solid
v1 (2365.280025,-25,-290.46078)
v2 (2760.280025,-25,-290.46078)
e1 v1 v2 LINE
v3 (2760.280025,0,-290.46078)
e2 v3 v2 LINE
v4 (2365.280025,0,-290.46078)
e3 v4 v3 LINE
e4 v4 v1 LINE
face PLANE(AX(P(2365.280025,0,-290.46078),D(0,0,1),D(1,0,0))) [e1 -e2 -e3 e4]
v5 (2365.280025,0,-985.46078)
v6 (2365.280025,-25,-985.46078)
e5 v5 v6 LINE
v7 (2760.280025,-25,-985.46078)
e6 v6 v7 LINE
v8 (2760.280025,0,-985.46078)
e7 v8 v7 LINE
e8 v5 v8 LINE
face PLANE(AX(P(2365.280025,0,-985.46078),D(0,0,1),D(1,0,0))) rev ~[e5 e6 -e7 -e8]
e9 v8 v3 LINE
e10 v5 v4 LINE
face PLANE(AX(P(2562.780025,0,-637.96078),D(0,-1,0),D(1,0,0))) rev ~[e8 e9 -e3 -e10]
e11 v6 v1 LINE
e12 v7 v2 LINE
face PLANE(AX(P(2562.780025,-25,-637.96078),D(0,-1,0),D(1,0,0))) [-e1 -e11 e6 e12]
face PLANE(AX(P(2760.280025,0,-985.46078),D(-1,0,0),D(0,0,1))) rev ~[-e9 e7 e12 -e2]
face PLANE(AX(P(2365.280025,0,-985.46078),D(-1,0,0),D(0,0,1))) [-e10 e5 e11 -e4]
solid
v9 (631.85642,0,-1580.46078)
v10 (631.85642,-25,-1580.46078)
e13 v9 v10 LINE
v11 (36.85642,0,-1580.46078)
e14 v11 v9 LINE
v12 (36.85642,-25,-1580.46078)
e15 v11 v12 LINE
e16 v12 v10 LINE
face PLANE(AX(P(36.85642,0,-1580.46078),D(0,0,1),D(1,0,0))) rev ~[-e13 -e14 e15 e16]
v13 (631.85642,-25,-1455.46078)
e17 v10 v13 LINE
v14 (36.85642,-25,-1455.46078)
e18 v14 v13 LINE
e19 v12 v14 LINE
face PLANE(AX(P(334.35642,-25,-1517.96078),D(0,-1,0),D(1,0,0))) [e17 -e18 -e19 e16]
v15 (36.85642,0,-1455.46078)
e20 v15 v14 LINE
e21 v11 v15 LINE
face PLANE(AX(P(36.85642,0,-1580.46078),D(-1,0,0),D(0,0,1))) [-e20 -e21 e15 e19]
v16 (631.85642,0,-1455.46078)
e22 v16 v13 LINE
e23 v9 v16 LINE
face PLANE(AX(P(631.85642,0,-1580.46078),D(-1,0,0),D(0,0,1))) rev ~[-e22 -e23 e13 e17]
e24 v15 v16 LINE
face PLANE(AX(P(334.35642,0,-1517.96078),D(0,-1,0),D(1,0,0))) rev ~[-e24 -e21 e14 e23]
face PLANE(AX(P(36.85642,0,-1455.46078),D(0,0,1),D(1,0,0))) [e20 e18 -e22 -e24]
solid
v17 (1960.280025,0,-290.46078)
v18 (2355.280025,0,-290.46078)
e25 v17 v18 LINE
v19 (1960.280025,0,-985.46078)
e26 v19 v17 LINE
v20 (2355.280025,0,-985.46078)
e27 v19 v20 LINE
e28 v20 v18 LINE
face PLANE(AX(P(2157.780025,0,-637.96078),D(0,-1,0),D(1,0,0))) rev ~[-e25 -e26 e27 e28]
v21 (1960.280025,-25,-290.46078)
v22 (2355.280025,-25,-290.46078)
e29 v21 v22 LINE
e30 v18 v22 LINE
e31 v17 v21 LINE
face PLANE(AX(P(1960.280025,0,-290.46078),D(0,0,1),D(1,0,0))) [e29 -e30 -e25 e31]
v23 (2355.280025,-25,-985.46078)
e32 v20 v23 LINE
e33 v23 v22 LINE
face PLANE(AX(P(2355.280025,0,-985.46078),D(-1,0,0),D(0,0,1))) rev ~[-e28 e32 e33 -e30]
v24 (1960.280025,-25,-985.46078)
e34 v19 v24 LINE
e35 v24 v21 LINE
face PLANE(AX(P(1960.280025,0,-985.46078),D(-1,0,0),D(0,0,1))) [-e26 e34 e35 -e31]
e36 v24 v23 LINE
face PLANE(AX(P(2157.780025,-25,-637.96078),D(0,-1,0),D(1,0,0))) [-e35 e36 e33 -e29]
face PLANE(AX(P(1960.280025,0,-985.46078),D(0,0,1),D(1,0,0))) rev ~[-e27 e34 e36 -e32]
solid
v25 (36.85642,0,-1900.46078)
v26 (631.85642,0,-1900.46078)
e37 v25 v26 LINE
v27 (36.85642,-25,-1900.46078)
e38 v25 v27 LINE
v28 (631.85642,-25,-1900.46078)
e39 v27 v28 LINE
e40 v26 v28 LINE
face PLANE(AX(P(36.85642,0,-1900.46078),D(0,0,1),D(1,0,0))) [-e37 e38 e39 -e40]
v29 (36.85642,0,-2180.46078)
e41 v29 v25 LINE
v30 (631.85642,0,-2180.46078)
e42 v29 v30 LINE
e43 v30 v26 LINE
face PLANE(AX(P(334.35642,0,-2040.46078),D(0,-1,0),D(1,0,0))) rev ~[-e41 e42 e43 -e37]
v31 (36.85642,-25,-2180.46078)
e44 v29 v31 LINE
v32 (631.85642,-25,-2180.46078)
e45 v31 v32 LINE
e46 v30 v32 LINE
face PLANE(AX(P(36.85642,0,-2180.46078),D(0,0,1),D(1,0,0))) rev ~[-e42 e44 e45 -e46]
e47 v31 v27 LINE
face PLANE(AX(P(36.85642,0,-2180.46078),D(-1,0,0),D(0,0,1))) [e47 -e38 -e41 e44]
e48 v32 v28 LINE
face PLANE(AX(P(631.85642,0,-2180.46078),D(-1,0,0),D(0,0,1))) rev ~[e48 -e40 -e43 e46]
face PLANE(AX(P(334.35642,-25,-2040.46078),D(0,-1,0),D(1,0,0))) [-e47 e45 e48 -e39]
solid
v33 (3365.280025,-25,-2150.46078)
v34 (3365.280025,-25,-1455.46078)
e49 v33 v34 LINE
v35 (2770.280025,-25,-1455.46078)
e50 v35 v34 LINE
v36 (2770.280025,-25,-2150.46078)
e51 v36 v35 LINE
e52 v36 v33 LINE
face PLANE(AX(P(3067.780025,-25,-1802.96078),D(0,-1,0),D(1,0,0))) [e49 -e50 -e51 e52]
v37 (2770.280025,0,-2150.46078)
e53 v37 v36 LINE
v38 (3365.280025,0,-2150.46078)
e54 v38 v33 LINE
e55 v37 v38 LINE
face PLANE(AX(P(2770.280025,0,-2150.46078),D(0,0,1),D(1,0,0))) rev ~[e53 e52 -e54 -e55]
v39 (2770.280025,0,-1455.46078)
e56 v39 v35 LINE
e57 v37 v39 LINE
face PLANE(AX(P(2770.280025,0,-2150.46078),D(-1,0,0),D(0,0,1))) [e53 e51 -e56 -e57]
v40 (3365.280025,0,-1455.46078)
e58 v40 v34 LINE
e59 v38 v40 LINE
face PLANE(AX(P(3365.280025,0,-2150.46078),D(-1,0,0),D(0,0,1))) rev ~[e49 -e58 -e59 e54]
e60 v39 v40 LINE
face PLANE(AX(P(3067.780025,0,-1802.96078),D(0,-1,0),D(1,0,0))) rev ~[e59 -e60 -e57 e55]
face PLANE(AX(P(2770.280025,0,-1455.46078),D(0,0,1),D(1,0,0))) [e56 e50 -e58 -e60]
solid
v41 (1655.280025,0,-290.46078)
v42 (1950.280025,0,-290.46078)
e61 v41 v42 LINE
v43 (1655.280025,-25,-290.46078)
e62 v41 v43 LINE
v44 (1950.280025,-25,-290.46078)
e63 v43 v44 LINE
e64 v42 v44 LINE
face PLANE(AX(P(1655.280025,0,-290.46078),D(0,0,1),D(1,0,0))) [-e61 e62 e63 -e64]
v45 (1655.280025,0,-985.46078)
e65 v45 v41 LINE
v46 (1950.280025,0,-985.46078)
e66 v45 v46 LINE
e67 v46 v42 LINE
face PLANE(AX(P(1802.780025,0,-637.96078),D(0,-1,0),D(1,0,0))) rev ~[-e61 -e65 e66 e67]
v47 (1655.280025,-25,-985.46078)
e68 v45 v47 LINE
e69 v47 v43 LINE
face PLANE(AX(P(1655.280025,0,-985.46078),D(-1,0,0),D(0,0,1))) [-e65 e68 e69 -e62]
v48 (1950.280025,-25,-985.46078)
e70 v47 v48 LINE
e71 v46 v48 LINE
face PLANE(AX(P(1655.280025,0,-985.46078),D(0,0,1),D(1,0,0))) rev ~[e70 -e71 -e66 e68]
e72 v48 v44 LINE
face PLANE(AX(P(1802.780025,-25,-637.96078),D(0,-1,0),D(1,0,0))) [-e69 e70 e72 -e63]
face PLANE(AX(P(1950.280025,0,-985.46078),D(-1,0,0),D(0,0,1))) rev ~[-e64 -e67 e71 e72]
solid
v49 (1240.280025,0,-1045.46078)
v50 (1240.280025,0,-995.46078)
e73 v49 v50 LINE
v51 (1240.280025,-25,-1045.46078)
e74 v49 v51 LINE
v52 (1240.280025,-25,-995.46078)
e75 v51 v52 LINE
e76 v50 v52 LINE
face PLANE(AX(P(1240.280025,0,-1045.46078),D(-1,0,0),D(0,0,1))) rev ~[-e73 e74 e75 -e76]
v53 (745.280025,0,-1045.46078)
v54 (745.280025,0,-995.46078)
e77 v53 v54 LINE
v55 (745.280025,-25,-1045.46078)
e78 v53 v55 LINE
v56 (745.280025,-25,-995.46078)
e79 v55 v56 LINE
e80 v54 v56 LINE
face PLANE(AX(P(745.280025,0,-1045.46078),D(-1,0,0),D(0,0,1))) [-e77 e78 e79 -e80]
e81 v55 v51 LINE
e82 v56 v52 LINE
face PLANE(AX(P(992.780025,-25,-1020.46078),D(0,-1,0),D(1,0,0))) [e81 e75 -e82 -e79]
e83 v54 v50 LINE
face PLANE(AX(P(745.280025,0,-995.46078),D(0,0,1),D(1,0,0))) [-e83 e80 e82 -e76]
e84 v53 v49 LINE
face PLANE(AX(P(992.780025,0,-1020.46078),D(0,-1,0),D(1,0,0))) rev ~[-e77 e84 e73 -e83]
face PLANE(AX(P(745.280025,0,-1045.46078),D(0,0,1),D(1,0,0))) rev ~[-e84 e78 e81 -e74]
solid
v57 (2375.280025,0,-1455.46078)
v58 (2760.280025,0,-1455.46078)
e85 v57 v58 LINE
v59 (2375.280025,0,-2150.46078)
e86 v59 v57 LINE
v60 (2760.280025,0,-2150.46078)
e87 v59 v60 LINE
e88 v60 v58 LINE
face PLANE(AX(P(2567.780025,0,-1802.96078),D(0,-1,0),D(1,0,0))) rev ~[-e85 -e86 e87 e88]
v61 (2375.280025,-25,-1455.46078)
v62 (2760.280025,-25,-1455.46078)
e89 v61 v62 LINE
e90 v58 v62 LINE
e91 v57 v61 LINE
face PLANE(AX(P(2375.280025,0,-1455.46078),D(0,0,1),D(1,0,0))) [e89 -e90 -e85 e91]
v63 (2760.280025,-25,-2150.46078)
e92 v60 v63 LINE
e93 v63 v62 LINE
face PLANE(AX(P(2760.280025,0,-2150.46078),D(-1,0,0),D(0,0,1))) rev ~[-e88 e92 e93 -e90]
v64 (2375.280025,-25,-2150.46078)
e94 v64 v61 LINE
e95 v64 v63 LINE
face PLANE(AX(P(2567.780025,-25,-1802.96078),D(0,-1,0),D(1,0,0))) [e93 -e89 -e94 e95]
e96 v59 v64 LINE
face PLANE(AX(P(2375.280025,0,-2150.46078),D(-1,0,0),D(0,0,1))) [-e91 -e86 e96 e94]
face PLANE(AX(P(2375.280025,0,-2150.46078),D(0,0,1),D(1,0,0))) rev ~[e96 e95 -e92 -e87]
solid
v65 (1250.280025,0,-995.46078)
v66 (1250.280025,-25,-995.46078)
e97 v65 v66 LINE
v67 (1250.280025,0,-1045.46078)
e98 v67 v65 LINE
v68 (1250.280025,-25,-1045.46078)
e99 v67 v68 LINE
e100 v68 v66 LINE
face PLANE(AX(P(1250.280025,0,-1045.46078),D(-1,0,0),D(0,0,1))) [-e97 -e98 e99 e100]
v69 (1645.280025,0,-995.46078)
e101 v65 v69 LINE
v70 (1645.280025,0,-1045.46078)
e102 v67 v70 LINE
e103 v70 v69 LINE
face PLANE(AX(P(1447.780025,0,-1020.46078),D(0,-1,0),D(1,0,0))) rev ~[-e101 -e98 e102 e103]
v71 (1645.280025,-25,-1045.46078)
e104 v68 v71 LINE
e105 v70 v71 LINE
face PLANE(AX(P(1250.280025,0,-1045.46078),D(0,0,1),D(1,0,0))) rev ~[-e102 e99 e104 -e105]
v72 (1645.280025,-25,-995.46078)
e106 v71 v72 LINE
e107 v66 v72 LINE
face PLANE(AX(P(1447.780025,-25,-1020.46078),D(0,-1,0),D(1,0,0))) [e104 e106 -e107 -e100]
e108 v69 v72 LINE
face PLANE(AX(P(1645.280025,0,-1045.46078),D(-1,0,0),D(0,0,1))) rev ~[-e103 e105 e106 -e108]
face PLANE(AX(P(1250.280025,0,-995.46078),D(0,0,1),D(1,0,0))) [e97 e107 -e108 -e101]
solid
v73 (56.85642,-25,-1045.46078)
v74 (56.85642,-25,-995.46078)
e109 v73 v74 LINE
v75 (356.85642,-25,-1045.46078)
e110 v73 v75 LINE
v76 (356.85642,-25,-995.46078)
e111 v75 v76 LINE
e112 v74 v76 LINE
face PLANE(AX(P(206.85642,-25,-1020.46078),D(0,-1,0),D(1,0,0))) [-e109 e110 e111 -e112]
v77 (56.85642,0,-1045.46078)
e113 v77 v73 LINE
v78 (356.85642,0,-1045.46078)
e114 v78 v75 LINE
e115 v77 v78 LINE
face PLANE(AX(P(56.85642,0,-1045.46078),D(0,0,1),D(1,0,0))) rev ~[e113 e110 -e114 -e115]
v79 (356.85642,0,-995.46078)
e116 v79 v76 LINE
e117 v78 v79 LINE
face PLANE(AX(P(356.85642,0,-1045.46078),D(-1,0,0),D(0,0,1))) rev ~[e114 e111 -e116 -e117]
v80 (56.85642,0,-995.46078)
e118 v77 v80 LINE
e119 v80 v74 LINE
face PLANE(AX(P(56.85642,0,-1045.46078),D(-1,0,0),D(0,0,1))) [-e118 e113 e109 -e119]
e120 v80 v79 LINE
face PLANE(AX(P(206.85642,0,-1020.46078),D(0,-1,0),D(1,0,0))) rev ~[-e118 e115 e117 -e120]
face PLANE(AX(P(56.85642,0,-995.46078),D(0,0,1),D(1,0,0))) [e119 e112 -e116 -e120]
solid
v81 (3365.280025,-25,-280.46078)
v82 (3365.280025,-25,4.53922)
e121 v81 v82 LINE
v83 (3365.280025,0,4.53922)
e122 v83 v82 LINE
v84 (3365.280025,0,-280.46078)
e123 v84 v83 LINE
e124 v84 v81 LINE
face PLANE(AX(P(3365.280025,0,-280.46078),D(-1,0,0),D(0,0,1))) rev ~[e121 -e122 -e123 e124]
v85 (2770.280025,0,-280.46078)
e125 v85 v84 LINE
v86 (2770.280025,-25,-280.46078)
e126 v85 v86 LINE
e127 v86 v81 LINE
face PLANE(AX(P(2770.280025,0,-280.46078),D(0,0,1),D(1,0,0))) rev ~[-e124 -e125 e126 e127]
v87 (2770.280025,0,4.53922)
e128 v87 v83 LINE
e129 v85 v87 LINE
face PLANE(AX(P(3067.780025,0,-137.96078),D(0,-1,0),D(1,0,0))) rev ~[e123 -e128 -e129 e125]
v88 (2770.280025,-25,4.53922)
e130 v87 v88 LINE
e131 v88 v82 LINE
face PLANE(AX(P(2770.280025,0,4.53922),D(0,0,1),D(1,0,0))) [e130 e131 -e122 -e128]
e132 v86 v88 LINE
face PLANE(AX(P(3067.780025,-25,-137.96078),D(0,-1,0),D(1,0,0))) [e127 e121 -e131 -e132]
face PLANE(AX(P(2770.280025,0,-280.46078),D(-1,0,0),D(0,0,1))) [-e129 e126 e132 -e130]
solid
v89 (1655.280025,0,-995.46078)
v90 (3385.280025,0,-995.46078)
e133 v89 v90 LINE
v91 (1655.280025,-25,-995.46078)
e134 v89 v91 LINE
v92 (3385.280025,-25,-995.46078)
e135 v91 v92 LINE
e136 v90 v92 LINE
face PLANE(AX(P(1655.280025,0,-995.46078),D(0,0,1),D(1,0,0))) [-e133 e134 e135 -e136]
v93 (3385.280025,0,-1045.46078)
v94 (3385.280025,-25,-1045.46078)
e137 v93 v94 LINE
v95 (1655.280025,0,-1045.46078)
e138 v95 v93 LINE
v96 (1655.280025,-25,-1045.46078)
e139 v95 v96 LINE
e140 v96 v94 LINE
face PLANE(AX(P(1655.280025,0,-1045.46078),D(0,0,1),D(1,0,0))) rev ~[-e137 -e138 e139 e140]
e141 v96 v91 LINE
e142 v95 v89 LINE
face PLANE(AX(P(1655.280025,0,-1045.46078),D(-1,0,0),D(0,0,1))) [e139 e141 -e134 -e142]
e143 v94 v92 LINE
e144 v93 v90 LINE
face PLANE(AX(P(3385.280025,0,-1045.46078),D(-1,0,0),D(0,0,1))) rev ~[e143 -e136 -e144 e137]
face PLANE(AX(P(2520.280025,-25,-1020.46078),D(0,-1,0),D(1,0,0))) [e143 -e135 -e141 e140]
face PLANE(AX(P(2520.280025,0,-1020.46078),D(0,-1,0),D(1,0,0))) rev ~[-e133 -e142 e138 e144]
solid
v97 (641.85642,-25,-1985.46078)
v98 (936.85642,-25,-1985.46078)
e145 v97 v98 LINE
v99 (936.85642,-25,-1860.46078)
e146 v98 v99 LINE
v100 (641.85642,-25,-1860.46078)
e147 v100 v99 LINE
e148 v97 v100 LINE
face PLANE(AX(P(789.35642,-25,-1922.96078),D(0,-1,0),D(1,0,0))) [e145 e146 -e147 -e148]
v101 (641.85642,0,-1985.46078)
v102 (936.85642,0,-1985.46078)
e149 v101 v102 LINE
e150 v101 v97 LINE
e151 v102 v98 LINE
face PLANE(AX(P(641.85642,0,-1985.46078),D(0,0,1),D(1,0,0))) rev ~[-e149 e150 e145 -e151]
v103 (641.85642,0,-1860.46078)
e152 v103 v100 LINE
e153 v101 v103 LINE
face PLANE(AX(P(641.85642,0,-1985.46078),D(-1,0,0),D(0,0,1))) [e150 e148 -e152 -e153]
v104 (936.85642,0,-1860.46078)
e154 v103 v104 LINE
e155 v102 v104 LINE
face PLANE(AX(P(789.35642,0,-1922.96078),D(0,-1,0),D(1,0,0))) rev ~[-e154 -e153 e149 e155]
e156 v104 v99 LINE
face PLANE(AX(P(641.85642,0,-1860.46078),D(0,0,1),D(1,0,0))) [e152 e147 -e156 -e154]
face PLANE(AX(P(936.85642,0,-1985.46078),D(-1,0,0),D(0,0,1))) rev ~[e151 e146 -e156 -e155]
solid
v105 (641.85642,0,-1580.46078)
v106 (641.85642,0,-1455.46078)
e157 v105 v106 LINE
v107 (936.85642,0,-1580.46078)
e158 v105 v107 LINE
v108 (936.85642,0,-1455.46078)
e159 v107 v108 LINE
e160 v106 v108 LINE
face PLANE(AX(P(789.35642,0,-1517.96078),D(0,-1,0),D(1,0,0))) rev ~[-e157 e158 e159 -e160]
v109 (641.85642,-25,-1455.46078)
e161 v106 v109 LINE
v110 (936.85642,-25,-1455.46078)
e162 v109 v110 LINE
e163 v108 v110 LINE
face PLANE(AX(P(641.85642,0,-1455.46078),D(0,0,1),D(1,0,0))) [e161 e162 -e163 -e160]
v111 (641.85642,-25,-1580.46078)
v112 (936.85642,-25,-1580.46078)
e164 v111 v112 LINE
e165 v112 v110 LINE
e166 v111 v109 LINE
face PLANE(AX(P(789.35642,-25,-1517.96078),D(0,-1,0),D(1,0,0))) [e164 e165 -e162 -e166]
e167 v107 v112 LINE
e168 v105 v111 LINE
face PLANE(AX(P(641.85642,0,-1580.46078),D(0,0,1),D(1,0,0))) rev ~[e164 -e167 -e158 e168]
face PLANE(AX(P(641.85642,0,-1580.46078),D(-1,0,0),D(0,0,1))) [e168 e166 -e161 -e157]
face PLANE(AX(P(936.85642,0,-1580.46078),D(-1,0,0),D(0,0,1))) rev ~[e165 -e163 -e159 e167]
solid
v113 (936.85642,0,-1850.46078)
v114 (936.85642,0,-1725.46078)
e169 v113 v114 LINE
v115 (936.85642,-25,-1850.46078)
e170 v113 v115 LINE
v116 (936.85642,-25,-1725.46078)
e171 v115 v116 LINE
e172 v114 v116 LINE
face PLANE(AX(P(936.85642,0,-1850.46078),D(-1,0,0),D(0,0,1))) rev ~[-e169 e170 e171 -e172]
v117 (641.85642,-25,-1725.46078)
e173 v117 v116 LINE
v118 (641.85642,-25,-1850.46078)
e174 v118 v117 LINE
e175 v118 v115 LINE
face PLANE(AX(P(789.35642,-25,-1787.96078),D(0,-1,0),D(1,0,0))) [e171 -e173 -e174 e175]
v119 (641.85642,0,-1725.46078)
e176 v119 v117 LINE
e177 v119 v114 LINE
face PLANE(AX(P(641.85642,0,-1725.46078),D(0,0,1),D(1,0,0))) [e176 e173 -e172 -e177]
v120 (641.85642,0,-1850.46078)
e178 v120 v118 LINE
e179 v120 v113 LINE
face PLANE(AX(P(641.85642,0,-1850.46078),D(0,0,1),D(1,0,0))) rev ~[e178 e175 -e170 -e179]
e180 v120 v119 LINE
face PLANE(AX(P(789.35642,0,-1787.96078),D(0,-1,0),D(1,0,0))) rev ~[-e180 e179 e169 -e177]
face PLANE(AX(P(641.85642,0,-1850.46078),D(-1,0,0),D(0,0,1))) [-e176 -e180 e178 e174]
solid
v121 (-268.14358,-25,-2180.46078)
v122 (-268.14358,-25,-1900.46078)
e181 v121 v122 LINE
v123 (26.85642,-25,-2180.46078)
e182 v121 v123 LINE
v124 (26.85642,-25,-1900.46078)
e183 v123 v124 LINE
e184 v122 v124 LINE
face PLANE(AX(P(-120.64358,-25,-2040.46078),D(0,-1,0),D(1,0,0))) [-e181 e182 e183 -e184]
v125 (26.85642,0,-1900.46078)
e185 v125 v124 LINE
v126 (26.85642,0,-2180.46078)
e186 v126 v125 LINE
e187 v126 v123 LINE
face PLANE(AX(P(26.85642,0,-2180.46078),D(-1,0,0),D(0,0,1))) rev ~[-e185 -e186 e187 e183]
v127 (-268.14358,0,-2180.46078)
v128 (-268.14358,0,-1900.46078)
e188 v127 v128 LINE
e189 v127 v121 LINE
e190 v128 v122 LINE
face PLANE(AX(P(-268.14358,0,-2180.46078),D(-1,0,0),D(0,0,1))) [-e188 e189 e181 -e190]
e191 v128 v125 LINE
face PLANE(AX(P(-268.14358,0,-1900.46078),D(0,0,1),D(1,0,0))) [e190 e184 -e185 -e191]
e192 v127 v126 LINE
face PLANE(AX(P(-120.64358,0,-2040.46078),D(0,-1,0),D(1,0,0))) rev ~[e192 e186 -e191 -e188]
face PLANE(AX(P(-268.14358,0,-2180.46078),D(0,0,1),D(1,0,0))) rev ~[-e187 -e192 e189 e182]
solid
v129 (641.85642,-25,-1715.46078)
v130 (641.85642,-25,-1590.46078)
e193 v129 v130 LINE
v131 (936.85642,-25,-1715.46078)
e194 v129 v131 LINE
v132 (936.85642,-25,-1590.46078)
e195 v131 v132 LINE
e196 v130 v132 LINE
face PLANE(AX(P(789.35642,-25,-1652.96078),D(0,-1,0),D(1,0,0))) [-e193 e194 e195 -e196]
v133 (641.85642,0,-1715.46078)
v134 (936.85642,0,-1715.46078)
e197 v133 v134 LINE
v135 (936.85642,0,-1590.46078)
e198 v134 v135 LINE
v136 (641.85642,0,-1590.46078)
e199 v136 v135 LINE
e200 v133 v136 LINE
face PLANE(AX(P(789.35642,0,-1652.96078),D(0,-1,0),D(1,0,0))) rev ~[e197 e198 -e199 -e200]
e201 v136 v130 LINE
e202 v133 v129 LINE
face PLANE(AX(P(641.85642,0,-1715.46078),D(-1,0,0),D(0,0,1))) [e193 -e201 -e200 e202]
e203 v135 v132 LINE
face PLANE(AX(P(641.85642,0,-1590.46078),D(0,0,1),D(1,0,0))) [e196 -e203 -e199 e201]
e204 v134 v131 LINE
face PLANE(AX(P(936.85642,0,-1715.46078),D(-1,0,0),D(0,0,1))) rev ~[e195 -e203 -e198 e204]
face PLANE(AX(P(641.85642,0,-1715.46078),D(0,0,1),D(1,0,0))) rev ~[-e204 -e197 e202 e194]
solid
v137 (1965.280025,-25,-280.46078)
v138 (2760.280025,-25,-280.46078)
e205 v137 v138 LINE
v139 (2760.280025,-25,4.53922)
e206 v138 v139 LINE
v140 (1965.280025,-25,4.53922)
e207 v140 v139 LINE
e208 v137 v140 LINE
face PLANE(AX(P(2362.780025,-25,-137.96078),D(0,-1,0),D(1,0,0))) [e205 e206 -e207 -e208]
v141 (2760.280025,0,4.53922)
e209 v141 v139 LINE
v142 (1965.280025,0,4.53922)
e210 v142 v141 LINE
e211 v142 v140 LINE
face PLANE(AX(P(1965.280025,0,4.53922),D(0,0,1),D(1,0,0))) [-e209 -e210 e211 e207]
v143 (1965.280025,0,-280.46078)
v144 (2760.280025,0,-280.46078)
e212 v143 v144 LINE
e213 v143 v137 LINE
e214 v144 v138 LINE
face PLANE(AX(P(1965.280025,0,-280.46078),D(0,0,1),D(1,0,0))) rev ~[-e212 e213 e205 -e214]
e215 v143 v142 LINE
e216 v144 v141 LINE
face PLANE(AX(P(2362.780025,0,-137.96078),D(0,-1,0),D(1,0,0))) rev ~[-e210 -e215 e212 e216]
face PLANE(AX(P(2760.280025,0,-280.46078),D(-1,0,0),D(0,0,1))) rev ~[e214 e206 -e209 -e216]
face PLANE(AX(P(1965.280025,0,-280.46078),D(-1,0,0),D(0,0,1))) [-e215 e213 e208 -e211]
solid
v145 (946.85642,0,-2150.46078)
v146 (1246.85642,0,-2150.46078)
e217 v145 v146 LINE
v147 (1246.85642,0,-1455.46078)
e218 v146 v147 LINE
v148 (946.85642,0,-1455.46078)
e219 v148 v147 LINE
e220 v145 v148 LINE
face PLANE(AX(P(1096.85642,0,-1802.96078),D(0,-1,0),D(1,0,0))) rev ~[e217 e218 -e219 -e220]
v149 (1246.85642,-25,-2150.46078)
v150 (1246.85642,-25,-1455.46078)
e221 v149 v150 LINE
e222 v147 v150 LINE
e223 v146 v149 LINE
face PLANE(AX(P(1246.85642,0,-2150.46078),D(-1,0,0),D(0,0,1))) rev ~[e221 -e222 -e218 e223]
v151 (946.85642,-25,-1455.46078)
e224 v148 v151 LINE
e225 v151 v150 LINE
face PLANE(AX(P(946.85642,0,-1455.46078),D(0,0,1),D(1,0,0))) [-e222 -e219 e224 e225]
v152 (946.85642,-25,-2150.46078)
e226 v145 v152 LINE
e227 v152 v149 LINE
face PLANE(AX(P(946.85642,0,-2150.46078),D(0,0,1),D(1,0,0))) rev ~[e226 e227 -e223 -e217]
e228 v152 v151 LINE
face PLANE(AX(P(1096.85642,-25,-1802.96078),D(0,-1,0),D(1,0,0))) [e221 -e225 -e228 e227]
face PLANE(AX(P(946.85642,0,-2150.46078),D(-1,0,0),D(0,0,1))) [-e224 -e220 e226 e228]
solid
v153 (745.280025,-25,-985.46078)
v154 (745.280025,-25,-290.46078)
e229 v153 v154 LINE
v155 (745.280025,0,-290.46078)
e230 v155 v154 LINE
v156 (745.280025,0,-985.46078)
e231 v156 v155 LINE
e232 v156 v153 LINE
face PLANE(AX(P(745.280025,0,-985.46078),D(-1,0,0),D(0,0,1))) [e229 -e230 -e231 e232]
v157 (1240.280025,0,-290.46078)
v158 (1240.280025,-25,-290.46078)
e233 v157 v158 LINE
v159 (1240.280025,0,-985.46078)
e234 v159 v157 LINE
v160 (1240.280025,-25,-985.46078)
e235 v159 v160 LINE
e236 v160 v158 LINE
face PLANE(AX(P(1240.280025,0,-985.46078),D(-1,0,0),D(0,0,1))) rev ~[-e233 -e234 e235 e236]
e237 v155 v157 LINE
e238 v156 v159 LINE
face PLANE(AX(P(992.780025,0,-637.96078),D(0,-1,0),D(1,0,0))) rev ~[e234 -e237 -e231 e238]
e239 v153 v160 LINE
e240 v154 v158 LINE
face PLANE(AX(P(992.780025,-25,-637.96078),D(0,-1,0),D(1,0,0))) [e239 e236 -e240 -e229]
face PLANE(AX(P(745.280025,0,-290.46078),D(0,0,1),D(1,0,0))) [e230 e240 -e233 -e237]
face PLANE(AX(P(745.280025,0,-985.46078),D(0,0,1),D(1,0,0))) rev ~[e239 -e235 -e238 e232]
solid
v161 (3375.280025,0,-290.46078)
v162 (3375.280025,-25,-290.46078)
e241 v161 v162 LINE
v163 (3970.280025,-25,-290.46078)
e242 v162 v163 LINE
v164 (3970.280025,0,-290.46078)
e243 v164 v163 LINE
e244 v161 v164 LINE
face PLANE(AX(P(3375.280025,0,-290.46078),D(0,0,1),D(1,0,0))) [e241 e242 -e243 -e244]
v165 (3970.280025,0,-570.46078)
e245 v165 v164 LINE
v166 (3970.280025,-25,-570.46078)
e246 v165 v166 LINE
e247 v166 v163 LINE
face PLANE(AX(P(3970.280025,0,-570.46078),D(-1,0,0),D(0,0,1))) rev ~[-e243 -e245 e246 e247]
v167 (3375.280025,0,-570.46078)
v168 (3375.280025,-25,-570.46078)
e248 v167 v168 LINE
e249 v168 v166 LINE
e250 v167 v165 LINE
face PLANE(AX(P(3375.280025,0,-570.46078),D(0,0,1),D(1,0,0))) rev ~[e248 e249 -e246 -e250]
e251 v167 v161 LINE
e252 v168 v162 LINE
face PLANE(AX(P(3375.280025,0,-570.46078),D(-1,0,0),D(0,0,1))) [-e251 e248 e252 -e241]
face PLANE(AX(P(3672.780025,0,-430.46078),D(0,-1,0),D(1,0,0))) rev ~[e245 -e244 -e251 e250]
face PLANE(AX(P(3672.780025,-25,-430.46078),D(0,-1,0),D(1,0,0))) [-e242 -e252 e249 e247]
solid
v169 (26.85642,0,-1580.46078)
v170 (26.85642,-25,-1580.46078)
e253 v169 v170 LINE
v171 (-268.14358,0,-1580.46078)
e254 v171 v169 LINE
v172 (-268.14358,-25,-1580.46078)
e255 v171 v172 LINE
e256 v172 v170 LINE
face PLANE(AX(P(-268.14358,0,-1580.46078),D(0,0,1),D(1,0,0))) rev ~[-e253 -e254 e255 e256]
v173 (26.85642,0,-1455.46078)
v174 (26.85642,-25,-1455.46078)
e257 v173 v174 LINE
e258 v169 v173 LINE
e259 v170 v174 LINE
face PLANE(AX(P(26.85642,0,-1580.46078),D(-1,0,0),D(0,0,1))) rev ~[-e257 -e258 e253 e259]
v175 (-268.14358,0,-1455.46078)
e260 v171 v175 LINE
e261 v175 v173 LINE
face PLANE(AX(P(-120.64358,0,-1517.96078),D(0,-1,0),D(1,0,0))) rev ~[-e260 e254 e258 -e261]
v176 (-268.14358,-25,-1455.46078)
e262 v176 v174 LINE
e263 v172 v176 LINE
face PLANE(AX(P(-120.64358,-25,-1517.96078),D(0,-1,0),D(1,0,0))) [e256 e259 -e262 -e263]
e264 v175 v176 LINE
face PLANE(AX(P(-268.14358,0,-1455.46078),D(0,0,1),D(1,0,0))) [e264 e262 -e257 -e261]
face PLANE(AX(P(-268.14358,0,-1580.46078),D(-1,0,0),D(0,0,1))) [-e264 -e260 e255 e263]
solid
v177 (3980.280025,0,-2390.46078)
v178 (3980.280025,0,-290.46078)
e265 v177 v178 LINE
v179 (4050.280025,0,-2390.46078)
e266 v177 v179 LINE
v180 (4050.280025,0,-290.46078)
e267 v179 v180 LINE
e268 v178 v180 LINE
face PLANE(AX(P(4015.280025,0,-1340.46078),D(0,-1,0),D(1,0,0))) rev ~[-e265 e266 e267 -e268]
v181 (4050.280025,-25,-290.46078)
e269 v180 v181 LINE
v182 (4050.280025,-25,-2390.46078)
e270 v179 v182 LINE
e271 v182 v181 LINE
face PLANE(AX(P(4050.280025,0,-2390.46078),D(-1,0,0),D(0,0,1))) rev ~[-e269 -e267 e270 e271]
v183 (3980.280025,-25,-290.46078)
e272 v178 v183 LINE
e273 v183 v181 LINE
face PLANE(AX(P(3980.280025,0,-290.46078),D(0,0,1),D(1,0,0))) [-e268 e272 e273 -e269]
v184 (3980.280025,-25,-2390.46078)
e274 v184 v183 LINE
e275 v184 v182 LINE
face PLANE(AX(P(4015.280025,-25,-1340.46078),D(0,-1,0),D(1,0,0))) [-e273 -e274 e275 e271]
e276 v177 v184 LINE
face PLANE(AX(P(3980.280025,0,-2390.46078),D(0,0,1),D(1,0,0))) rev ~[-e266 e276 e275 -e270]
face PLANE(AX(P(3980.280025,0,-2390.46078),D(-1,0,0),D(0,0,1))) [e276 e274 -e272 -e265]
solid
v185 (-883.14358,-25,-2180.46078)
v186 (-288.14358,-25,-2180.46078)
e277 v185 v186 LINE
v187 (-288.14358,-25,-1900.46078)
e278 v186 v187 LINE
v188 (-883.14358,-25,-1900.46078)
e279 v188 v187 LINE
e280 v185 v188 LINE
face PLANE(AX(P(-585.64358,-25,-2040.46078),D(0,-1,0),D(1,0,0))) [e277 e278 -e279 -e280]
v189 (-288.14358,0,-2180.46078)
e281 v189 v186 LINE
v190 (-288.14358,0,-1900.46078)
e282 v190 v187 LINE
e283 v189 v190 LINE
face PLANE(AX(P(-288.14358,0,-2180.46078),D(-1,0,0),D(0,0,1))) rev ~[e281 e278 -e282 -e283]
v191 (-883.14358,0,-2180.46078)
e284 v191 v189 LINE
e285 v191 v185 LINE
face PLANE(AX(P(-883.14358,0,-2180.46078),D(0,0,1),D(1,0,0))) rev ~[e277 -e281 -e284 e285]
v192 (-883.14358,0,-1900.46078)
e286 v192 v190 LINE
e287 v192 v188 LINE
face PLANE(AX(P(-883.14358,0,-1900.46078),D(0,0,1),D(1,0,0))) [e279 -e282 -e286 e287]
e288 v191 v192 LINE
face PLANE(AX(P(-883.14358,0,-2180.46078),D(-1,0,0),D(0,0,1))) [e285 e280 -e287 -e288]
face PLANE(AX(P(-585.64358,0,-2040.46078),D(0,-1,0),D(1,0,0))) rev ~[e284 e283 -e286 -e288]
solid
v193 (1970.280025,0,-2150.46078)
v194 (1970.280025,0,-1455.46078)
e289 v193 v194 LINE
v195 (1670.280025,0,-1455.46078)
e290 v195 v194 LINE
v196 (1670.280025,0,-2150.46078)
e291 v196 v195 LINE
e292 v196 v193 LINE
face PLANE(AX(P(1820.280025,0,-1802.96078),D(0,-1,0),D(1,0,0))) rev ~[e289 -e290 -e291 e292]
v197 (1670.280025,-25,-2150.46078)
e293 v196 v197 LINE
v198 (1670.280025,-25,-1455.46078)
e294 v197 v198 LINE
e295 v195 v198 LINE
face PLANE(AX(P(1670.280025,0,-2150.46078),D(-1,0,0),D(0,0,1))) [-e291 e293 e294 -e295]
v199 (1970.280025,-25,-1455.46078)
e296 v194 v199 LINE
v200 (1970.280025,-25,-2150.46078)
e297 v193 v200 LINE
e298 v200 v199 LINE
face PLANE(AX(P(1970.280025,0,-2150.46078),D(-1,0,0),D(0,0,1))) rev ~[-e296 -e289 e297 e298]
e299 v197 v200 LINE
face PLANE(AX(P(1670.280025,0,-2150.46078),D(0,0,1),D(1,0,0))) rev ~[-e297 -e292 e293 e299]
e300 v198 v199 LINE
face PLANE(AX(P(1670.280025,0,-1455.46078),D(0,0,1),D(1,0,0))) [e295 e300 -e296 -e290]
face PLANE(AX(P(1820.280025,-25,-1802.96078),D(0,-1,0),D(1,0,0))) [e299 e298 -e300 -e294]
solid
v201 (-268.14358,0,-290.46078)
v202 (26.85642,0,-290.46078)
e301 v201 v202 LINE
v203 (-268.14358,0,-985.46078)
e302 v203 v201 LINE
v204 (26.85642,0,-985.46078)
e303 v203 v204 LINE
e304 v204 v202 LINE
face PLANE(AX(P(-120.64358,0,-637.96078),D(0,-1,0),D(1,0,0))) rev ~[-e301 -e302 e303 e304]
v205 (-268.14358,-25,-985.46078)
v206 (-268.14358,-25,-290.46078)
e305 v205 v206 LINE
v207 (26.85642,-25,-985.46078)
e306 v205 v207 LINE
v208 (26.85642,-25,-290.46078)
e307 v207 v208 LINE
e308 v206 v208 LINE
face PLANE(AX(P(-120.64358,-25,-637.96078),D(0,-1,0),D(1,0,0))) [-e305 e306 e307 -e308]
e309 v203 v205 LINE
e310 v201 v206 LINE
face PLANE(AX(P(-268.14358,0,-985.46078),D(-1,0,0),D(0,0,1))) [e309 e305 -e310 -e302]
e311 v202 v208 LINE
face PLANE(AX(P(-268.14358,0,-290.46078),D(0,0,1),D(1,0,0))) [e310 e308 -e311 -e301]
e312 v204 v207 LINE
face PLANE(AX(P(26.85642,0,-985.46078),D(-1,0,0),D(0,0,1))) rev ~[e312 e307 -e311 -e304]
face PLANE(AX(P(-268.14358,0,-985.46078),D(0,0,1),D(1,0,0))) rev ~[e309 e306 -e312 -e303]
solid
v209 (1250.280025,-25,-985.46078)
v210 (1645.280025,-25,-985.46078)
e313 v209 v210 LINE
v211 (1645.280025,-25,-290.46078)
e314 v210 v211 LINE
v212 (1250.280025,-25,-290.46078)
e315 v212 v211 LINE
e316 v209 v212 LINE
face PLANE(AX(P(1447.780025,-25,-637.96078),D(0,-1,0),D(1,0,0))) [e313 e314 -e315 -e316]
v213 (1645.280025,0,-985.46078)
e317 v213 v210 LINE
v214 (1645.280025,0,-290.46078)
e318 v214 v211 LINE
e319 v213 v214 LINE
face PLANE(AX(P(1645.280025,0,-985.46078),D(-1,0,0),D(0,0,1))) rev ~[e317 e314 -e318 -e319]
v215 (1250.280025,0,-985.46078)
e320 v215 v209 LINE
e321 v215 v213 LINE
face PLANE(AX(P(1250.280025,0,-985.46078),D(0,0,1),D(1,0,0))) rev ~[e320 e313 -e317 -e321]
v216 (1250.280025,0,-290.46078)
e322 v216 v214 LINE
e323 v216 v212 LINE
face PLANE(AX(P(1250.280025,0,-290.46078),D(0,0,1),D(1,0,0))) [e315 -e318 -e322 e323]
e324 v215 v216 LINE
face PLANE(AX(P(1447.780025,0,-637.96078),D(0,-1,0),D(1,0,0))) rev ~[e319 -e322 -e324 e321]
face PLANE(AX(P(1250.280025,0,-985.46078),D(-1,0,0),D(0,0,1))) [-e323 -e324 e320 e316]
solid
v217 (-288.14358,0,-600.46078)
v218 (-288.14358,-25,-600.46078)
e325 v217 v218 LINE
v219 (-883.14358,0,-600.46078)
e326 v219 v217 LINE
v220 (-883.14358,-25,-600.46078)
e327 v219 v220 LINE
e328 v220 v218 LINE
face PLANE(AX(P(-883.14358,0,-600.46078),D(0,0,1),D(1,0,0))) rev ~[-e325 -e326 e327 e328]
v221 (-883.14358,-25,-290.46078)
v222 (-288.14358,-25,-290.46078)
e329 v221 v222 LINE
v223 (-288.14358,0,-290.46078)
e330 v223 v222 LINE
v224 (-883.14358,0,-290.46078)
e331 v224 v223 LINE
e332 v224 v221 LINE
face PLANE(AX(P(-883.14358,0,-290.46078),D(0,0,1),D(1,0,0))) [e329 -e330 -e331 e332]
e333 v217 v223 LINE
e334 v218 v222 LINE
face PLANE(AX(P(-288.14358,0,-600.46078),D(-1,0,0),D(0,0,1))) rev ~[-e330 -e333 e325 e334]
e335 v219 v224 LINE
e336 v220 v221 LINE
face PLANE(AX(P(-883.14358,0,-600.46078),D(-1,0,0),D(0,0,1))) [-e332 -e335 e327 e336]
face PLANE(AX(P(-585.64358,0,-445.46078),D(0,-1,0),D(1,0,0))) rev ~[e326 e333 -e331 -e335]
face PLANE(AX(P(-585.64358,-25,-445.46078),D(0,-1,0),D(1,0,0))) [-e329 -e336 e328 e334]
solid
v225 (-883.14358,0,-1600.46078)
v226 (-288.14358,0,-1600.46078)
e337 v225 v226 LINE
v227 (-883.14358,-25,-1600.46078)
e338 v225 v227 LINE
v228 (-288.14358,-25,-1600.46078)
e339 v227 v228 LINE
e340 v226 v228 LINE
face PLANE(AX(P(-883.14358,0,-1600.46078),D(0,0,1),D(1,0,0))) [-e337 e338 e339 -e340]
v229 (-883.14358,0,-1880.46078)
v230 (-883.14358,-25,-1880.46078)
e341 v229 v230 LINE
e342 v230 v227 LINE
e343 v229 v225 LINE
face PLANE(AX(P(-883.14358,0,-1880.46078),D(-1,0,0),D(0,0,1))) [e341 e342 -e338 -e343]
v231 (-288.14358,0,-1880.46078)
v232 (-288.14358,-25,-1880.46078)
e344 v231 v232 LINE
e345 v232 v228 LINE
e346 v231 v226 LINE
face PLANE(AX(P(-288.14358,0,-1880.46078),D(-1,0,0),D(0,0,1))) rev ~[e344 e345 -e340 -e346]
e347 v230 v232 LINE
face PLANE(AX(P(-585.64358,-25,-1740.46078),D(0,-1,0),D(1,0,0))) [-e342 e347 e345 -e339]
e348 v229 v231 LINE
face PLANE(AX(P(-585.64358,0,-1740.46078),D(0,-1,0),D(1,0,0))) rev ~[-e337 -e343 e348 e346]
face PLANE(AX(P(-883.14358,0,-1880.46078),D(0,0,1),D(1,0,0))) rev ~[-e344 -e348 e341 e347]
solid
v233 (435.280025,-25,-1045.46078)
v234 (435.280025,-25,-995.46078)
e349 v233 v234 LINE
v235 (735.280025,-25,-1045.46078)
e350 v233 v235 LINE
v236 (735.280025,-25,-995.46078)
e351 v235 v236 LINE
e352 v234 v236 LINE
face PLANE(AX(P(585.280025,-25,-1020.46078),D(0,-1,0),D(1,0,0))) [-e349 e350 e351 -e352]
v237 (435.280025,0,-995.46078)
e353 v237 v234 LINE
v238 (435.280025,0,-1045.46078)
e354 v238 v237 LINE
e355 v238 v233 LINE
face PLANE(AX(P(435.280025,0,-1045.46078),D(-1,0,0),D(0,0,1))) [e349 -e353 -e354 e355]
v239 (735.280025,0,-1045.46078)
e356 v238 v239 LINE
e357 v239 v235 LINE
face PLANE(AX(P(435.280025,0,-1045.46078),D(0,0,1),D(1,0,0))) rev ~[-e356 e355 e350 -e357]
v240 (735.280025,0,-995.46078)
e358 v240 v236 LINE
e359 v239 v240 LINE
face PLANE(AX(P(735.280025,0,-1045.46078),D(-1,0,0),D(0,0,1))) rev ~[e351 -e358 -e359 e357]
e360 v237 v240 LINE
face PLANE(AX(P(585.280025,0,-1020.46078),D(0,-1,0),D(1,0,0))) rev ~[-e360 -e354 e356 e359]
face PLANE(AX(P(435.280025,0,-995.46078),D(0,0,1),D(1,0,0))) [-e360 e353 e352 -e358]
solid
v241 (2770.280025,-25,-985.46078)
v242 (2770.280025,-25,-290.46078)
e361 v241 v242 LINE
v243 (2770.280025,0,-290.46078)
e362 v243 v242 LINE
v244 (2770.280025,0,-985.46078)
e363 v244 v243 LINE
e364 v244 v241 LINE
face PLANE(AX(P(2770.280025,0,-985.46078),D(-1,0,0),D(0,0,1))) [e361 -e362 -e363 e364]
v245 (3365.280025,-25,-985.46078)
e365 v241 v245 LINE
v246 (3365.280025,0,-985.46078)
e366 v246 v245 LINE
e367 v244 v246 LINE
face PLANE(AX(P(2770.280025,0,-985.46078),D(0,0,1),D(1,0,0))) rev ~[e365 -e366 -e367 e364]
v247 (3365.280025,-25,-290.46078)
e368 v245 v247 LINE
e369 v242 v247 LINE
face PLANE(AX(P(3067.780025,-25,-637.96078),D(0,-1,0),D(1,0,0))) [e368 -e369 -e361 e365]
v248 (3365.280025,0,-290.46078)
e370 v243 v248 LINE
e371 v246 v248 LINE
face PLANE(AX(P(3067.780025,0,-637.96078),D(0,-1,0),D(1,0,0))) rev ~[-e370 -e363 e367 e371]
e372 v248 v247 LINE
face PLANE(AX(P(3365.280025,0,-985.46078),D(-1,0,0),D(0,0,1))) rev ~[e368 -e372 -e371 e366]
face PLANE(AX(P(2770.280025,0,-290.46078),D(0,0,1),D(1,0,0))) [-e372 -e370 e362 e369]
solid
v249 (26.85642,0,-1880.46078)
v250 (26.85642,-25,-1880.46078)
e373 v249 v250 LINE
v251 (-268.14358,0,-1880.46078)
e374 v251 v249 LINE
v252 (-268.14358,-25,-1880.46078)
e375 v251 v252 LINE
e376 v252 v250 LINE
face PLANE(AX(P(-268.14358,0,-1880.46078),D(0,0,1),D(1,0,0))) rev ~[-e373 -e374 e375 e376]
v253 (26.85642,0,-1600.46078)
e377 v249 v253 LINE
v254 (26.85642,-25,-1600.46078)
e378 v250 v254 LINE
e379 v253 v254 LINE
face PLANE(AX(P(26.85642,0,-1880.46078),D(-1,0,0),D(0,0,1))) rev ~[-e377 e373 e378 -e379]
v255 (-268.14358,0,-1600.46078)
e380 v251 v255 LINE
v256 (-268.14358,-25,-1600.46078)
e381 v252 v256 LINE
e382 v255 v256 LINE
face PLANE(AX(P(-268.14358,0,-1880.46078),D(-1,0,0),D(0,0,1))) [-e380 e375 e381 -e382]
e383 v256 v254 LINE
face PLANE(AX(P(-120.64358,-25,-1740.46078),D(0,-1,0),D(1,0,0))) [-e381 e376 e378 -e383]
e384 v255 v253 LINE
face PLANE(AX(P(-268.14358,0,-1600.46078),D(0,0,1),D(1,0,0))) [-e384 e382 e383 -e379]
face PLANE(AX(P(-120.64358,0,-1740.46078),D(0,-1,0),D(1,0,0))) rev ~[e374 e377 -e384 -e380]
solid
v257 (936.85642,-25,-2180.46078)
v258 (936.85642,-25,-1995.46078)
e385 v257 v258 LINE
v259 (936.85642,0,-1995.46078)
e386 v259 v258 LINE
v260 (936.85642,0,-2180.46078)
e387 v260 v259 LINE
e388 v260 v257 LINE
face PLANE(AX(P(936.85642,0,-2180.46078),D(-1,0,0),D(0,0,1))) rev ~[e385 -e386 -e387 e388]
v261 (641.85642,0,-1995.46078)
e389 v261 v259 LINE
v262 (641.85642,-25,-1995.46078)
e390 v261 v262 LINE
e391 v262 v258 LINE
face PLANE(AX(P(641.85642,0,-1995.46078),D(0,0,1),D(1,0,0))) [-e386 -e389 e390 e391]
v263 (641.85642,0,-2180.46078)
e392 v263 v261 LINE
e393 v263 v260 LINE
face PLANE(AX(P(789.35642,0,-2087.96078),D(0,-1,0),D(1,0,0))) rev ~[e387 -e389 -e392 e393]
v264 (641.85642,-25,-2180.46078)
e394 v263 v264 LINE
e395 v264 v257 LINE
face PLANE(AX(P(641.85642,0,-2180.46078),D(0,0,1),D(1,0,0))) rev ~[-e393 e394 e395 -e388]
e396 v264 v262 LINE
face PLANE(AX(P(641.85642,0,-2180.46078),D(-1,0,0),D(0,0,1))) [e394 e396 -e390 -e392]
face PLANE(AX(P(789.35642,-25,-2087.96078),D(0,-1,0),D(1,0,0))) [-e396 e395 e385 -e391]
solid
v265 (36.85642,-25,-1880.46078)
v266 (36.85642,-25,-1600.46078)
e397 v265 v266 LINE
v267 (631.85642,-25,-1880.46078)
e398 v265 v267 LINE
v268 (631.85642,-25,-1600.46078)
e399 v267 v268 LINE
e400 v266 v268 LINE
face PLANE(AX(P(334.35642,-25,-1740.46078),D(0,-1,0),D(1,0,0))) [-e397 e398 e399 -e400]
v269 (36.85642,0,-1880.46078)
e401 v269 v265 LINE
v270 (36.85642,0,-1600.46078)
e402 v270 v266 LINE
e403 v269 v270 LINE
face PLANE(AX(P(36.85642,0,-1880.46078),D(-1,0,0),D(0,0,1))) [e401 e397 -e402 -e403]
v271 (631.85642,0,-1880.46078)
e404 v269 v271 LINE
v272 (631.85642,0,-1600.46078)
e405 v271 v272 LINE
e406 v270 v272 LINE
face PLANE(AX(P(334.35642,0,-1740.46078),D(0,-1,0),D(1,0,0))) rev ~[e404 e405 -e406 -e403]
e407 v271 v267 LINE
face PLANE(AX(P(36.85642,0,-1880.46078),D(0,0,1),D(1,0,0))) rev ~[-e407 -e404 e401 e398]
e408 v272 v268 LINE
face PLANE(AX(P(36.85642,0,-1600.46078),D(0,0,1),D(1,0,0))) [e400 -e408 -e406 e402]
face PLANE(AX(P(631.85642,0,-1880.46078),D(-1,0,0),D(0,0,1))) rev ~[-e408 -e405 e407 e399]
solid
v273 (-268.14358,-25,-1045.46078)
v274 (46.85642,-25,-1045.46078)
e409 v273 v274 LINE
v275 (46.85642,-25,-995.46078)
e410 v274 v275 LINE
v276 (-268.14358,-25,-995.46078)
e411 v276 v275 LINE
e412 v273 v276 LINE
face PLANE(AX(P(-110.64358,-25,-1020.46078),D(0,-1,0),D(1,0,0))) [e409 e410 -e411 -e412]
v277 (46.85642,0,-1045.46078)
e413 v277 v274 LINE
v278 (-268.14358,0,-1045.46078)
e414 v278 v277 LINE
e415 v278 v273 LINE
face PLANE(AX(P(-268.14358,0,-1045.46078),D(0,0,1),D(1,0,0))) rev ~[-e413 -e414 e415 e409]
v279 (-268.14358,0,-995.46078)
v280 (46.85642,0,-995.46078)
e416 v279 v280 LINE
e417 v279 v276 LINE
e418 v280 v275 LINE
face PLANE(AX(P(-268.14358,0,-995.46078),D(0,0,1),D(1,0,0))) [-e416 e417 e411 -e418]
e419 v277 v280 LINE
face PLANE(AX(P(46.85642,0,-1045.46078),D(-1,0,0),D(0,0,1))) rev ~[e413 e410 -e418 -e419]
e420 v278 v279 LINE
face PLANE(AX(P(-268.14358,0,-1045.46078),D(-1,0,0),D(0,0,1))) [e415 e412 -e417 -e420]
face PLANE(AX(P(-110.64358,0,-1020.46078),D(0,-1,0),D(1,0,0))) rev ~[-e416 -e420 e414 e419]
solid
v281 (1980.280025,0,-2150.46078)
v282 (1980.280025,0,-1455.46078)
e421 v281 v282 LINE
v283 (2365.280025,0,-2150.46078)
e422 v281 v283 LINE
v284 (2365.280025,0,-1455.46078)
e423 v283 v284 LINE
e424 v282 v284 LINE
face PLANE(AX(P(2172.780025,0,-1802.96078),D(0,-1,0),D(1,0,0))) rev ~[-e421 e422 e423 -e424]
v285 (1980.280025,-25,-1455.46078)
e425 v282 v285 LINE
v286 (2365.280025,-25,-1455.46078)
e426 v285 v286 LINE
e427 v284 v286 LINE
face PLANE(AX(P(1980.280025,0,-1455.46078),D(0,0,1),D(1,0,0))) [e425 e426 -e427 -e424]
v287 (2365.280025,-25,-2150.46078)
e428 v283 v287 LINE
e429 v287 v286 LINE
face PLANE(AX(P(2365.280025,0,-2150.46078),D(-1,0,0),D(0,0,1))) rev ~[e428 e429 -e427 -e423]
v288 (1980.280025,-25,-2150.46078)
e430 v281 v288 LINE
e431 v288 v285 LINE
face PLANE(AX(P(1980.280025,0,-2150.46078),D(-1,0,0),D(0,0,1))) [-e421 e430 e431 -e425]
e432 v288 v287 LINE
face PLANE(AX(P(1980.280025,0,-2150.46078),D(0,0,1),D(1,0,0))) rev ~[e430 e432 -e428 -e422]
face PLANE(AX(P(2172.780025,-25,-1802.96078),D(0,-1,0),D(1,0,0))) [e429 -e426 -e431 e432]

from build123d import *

# Parameters (mm, degrees)
F1_W     = 295
F1_H     = 695
F1_W_2   = 395
F1_W_3   = 595
F1_H_2   = 280
F1_H_3   = 285
F1_W_4   = 795
F1_W_5   = 70
F1_H_4   = 2100
F1_W_6   = 1730
F1_H_5   = 50
F1_W_7   = 300
F1_W_8   = 385
F0_W     = 595
F0_H     = 310
F0_H_2   = 280
F0_W_2   = 295
F0_H_3   = 695
F0_H_4   = 125
F0_W_3   = 300
F0_H_5   = 50
F0_W_4   = 315
F0_H_6   = 185
F0_W_5   = 495
F0_W_6   = 395
F2_DEPTH = 25


with BuildPart() as f2:
    # F1 (on Front) + F0 (on Front) → F2 (new body)
    with BuildSketch(Plane.XZ):
        with Locations((1802.780025, -637.96078)):
            Rectangle(F1_W, F1_H)
        with Locations((2157.780025, -637.96078)):
            Rectangle(F1_W_2, F1_H)
        with Locations((2562.780025, -637.96078)):
            Rectangle(F1_W_2, F1_H)
        with Locations((3067.780025, -637.96078)):
            Rectangle(F1_W_3, F1_H)
        with Locations((3672.780025, -430.46078)):
            Rectangle(F1_W_3, F1_H_2)
        with Locations((3067.780025, -137.96078)):
            Rectangle(F1_W_3, F1_H_3)
        with Locations((2362.780025, -137.96078)):
            Rectangle(F1_W_4, F1_H_3)
        with Locations((4015.280025, -1340.46078)):
            Rectangle(F1_W_5, F1_H_4)
        with Locations((2520.280025, -1020.46078)):
            Rectangle(F1_W_6, F1_H_5)
        with Locations((1820.280025, -1802.96078)):
            Rectangle(F1_W_7, F1_H)
        with Locations((2172.780025, -1802.96078)):
            Rectangle(F1_W_8, F1_H)
        with Locations((2567.780025, -1802.96078)):
            Rectangle(F1_W_8, F1_H)
        with Locations((3067.780025, -1802.96078)):
            Rectangle(F1_W_3, F1_H)
    with BuildSketch(Plane.XZ):
        with Locations((-585.64358, -445.46078)):
            Rectangle(F0_W, F0_H)
        with Locations((-585.64358, -1740.46078)):
            Rectangle(F0_W, F0_H_2)
        with Locations((-585.64358, -2040.46078)):
            Rectangle(F0_W, F0_H_2)
        with Locations((-120.64358, -637.96078)):
            Rectangle(F0_W_2, F0_H_3)
        with Locations((-120.64358, -1740.46078)):
            Rectangle(F0_W_2, F0_H_2)
        with Locations((-120.64358, -2040.46078)):
            Rectangle(F0_W_2, F0_H_2)
        with Locations((-120.64358, -1517.96078)):
            Rectangle(F0_W_2, F0_H_4)
        with Locations((334.35642, -1517.96078)):
            Rectangle(F0_W, F0_H_4)
        with Locations((334.35642, -1740.46078)):
            Rectangle(F0_W, F0_H_2)
        with Locations((334.35642, -2040.46078)):
            Rectangle(F0_W, F0_H_2)
        with Locations((206.85642, -1020.46078)):
            Rectangle(F0_W_3, F0_H_5)
        with Locations((-110.64358, -1020.46078)):
            Rectangle(F0_W_4, F0_H_5)
        with Locations((789.35642, -1517.96078)):
            Rectangle(F0_W_2, F0_H_4)
        with Locations((789.35642, -1787.96078)):
            Rectangle(F0_W_2, F0_H_4)
        with Locations((789.35642, -1922.96078)):
            Rectangle(F0_W_2, F0_H_4)
        with Locations((789.35642, -2087.96078)):
            Rectangle(F0_W_2, F0_H_6)
        with Locations((789.35642, -1652.96078)):
            Rectangle(F0_W_2, F0_H_4)
        with Locations((992.780025, -637.96078)):
            Rectangle(F0_W_5, F0_H_3)
        with Locations((992.780025, -1020.46078)):
            Rectangle(F0_W_5, F0_H_5)
        with Locations((585.280025, -1020.46078)):
            Rectangle(F0_W_3, F0_H_5)
        with Locations((1447.780025, -637.96078)):
            Rectangle(F0_W_6, F0_H_3)
        with Locations((1447.780025, -1020.46078)):
            Rectangle(F0_W_6, F0_H_5)
        with Locations((1096.85642, -1802.96078)):
            Rectangle(F0_W_3, F0_H_3)
    extrude(amount=F2_DEPTH)


solid = f2.part
